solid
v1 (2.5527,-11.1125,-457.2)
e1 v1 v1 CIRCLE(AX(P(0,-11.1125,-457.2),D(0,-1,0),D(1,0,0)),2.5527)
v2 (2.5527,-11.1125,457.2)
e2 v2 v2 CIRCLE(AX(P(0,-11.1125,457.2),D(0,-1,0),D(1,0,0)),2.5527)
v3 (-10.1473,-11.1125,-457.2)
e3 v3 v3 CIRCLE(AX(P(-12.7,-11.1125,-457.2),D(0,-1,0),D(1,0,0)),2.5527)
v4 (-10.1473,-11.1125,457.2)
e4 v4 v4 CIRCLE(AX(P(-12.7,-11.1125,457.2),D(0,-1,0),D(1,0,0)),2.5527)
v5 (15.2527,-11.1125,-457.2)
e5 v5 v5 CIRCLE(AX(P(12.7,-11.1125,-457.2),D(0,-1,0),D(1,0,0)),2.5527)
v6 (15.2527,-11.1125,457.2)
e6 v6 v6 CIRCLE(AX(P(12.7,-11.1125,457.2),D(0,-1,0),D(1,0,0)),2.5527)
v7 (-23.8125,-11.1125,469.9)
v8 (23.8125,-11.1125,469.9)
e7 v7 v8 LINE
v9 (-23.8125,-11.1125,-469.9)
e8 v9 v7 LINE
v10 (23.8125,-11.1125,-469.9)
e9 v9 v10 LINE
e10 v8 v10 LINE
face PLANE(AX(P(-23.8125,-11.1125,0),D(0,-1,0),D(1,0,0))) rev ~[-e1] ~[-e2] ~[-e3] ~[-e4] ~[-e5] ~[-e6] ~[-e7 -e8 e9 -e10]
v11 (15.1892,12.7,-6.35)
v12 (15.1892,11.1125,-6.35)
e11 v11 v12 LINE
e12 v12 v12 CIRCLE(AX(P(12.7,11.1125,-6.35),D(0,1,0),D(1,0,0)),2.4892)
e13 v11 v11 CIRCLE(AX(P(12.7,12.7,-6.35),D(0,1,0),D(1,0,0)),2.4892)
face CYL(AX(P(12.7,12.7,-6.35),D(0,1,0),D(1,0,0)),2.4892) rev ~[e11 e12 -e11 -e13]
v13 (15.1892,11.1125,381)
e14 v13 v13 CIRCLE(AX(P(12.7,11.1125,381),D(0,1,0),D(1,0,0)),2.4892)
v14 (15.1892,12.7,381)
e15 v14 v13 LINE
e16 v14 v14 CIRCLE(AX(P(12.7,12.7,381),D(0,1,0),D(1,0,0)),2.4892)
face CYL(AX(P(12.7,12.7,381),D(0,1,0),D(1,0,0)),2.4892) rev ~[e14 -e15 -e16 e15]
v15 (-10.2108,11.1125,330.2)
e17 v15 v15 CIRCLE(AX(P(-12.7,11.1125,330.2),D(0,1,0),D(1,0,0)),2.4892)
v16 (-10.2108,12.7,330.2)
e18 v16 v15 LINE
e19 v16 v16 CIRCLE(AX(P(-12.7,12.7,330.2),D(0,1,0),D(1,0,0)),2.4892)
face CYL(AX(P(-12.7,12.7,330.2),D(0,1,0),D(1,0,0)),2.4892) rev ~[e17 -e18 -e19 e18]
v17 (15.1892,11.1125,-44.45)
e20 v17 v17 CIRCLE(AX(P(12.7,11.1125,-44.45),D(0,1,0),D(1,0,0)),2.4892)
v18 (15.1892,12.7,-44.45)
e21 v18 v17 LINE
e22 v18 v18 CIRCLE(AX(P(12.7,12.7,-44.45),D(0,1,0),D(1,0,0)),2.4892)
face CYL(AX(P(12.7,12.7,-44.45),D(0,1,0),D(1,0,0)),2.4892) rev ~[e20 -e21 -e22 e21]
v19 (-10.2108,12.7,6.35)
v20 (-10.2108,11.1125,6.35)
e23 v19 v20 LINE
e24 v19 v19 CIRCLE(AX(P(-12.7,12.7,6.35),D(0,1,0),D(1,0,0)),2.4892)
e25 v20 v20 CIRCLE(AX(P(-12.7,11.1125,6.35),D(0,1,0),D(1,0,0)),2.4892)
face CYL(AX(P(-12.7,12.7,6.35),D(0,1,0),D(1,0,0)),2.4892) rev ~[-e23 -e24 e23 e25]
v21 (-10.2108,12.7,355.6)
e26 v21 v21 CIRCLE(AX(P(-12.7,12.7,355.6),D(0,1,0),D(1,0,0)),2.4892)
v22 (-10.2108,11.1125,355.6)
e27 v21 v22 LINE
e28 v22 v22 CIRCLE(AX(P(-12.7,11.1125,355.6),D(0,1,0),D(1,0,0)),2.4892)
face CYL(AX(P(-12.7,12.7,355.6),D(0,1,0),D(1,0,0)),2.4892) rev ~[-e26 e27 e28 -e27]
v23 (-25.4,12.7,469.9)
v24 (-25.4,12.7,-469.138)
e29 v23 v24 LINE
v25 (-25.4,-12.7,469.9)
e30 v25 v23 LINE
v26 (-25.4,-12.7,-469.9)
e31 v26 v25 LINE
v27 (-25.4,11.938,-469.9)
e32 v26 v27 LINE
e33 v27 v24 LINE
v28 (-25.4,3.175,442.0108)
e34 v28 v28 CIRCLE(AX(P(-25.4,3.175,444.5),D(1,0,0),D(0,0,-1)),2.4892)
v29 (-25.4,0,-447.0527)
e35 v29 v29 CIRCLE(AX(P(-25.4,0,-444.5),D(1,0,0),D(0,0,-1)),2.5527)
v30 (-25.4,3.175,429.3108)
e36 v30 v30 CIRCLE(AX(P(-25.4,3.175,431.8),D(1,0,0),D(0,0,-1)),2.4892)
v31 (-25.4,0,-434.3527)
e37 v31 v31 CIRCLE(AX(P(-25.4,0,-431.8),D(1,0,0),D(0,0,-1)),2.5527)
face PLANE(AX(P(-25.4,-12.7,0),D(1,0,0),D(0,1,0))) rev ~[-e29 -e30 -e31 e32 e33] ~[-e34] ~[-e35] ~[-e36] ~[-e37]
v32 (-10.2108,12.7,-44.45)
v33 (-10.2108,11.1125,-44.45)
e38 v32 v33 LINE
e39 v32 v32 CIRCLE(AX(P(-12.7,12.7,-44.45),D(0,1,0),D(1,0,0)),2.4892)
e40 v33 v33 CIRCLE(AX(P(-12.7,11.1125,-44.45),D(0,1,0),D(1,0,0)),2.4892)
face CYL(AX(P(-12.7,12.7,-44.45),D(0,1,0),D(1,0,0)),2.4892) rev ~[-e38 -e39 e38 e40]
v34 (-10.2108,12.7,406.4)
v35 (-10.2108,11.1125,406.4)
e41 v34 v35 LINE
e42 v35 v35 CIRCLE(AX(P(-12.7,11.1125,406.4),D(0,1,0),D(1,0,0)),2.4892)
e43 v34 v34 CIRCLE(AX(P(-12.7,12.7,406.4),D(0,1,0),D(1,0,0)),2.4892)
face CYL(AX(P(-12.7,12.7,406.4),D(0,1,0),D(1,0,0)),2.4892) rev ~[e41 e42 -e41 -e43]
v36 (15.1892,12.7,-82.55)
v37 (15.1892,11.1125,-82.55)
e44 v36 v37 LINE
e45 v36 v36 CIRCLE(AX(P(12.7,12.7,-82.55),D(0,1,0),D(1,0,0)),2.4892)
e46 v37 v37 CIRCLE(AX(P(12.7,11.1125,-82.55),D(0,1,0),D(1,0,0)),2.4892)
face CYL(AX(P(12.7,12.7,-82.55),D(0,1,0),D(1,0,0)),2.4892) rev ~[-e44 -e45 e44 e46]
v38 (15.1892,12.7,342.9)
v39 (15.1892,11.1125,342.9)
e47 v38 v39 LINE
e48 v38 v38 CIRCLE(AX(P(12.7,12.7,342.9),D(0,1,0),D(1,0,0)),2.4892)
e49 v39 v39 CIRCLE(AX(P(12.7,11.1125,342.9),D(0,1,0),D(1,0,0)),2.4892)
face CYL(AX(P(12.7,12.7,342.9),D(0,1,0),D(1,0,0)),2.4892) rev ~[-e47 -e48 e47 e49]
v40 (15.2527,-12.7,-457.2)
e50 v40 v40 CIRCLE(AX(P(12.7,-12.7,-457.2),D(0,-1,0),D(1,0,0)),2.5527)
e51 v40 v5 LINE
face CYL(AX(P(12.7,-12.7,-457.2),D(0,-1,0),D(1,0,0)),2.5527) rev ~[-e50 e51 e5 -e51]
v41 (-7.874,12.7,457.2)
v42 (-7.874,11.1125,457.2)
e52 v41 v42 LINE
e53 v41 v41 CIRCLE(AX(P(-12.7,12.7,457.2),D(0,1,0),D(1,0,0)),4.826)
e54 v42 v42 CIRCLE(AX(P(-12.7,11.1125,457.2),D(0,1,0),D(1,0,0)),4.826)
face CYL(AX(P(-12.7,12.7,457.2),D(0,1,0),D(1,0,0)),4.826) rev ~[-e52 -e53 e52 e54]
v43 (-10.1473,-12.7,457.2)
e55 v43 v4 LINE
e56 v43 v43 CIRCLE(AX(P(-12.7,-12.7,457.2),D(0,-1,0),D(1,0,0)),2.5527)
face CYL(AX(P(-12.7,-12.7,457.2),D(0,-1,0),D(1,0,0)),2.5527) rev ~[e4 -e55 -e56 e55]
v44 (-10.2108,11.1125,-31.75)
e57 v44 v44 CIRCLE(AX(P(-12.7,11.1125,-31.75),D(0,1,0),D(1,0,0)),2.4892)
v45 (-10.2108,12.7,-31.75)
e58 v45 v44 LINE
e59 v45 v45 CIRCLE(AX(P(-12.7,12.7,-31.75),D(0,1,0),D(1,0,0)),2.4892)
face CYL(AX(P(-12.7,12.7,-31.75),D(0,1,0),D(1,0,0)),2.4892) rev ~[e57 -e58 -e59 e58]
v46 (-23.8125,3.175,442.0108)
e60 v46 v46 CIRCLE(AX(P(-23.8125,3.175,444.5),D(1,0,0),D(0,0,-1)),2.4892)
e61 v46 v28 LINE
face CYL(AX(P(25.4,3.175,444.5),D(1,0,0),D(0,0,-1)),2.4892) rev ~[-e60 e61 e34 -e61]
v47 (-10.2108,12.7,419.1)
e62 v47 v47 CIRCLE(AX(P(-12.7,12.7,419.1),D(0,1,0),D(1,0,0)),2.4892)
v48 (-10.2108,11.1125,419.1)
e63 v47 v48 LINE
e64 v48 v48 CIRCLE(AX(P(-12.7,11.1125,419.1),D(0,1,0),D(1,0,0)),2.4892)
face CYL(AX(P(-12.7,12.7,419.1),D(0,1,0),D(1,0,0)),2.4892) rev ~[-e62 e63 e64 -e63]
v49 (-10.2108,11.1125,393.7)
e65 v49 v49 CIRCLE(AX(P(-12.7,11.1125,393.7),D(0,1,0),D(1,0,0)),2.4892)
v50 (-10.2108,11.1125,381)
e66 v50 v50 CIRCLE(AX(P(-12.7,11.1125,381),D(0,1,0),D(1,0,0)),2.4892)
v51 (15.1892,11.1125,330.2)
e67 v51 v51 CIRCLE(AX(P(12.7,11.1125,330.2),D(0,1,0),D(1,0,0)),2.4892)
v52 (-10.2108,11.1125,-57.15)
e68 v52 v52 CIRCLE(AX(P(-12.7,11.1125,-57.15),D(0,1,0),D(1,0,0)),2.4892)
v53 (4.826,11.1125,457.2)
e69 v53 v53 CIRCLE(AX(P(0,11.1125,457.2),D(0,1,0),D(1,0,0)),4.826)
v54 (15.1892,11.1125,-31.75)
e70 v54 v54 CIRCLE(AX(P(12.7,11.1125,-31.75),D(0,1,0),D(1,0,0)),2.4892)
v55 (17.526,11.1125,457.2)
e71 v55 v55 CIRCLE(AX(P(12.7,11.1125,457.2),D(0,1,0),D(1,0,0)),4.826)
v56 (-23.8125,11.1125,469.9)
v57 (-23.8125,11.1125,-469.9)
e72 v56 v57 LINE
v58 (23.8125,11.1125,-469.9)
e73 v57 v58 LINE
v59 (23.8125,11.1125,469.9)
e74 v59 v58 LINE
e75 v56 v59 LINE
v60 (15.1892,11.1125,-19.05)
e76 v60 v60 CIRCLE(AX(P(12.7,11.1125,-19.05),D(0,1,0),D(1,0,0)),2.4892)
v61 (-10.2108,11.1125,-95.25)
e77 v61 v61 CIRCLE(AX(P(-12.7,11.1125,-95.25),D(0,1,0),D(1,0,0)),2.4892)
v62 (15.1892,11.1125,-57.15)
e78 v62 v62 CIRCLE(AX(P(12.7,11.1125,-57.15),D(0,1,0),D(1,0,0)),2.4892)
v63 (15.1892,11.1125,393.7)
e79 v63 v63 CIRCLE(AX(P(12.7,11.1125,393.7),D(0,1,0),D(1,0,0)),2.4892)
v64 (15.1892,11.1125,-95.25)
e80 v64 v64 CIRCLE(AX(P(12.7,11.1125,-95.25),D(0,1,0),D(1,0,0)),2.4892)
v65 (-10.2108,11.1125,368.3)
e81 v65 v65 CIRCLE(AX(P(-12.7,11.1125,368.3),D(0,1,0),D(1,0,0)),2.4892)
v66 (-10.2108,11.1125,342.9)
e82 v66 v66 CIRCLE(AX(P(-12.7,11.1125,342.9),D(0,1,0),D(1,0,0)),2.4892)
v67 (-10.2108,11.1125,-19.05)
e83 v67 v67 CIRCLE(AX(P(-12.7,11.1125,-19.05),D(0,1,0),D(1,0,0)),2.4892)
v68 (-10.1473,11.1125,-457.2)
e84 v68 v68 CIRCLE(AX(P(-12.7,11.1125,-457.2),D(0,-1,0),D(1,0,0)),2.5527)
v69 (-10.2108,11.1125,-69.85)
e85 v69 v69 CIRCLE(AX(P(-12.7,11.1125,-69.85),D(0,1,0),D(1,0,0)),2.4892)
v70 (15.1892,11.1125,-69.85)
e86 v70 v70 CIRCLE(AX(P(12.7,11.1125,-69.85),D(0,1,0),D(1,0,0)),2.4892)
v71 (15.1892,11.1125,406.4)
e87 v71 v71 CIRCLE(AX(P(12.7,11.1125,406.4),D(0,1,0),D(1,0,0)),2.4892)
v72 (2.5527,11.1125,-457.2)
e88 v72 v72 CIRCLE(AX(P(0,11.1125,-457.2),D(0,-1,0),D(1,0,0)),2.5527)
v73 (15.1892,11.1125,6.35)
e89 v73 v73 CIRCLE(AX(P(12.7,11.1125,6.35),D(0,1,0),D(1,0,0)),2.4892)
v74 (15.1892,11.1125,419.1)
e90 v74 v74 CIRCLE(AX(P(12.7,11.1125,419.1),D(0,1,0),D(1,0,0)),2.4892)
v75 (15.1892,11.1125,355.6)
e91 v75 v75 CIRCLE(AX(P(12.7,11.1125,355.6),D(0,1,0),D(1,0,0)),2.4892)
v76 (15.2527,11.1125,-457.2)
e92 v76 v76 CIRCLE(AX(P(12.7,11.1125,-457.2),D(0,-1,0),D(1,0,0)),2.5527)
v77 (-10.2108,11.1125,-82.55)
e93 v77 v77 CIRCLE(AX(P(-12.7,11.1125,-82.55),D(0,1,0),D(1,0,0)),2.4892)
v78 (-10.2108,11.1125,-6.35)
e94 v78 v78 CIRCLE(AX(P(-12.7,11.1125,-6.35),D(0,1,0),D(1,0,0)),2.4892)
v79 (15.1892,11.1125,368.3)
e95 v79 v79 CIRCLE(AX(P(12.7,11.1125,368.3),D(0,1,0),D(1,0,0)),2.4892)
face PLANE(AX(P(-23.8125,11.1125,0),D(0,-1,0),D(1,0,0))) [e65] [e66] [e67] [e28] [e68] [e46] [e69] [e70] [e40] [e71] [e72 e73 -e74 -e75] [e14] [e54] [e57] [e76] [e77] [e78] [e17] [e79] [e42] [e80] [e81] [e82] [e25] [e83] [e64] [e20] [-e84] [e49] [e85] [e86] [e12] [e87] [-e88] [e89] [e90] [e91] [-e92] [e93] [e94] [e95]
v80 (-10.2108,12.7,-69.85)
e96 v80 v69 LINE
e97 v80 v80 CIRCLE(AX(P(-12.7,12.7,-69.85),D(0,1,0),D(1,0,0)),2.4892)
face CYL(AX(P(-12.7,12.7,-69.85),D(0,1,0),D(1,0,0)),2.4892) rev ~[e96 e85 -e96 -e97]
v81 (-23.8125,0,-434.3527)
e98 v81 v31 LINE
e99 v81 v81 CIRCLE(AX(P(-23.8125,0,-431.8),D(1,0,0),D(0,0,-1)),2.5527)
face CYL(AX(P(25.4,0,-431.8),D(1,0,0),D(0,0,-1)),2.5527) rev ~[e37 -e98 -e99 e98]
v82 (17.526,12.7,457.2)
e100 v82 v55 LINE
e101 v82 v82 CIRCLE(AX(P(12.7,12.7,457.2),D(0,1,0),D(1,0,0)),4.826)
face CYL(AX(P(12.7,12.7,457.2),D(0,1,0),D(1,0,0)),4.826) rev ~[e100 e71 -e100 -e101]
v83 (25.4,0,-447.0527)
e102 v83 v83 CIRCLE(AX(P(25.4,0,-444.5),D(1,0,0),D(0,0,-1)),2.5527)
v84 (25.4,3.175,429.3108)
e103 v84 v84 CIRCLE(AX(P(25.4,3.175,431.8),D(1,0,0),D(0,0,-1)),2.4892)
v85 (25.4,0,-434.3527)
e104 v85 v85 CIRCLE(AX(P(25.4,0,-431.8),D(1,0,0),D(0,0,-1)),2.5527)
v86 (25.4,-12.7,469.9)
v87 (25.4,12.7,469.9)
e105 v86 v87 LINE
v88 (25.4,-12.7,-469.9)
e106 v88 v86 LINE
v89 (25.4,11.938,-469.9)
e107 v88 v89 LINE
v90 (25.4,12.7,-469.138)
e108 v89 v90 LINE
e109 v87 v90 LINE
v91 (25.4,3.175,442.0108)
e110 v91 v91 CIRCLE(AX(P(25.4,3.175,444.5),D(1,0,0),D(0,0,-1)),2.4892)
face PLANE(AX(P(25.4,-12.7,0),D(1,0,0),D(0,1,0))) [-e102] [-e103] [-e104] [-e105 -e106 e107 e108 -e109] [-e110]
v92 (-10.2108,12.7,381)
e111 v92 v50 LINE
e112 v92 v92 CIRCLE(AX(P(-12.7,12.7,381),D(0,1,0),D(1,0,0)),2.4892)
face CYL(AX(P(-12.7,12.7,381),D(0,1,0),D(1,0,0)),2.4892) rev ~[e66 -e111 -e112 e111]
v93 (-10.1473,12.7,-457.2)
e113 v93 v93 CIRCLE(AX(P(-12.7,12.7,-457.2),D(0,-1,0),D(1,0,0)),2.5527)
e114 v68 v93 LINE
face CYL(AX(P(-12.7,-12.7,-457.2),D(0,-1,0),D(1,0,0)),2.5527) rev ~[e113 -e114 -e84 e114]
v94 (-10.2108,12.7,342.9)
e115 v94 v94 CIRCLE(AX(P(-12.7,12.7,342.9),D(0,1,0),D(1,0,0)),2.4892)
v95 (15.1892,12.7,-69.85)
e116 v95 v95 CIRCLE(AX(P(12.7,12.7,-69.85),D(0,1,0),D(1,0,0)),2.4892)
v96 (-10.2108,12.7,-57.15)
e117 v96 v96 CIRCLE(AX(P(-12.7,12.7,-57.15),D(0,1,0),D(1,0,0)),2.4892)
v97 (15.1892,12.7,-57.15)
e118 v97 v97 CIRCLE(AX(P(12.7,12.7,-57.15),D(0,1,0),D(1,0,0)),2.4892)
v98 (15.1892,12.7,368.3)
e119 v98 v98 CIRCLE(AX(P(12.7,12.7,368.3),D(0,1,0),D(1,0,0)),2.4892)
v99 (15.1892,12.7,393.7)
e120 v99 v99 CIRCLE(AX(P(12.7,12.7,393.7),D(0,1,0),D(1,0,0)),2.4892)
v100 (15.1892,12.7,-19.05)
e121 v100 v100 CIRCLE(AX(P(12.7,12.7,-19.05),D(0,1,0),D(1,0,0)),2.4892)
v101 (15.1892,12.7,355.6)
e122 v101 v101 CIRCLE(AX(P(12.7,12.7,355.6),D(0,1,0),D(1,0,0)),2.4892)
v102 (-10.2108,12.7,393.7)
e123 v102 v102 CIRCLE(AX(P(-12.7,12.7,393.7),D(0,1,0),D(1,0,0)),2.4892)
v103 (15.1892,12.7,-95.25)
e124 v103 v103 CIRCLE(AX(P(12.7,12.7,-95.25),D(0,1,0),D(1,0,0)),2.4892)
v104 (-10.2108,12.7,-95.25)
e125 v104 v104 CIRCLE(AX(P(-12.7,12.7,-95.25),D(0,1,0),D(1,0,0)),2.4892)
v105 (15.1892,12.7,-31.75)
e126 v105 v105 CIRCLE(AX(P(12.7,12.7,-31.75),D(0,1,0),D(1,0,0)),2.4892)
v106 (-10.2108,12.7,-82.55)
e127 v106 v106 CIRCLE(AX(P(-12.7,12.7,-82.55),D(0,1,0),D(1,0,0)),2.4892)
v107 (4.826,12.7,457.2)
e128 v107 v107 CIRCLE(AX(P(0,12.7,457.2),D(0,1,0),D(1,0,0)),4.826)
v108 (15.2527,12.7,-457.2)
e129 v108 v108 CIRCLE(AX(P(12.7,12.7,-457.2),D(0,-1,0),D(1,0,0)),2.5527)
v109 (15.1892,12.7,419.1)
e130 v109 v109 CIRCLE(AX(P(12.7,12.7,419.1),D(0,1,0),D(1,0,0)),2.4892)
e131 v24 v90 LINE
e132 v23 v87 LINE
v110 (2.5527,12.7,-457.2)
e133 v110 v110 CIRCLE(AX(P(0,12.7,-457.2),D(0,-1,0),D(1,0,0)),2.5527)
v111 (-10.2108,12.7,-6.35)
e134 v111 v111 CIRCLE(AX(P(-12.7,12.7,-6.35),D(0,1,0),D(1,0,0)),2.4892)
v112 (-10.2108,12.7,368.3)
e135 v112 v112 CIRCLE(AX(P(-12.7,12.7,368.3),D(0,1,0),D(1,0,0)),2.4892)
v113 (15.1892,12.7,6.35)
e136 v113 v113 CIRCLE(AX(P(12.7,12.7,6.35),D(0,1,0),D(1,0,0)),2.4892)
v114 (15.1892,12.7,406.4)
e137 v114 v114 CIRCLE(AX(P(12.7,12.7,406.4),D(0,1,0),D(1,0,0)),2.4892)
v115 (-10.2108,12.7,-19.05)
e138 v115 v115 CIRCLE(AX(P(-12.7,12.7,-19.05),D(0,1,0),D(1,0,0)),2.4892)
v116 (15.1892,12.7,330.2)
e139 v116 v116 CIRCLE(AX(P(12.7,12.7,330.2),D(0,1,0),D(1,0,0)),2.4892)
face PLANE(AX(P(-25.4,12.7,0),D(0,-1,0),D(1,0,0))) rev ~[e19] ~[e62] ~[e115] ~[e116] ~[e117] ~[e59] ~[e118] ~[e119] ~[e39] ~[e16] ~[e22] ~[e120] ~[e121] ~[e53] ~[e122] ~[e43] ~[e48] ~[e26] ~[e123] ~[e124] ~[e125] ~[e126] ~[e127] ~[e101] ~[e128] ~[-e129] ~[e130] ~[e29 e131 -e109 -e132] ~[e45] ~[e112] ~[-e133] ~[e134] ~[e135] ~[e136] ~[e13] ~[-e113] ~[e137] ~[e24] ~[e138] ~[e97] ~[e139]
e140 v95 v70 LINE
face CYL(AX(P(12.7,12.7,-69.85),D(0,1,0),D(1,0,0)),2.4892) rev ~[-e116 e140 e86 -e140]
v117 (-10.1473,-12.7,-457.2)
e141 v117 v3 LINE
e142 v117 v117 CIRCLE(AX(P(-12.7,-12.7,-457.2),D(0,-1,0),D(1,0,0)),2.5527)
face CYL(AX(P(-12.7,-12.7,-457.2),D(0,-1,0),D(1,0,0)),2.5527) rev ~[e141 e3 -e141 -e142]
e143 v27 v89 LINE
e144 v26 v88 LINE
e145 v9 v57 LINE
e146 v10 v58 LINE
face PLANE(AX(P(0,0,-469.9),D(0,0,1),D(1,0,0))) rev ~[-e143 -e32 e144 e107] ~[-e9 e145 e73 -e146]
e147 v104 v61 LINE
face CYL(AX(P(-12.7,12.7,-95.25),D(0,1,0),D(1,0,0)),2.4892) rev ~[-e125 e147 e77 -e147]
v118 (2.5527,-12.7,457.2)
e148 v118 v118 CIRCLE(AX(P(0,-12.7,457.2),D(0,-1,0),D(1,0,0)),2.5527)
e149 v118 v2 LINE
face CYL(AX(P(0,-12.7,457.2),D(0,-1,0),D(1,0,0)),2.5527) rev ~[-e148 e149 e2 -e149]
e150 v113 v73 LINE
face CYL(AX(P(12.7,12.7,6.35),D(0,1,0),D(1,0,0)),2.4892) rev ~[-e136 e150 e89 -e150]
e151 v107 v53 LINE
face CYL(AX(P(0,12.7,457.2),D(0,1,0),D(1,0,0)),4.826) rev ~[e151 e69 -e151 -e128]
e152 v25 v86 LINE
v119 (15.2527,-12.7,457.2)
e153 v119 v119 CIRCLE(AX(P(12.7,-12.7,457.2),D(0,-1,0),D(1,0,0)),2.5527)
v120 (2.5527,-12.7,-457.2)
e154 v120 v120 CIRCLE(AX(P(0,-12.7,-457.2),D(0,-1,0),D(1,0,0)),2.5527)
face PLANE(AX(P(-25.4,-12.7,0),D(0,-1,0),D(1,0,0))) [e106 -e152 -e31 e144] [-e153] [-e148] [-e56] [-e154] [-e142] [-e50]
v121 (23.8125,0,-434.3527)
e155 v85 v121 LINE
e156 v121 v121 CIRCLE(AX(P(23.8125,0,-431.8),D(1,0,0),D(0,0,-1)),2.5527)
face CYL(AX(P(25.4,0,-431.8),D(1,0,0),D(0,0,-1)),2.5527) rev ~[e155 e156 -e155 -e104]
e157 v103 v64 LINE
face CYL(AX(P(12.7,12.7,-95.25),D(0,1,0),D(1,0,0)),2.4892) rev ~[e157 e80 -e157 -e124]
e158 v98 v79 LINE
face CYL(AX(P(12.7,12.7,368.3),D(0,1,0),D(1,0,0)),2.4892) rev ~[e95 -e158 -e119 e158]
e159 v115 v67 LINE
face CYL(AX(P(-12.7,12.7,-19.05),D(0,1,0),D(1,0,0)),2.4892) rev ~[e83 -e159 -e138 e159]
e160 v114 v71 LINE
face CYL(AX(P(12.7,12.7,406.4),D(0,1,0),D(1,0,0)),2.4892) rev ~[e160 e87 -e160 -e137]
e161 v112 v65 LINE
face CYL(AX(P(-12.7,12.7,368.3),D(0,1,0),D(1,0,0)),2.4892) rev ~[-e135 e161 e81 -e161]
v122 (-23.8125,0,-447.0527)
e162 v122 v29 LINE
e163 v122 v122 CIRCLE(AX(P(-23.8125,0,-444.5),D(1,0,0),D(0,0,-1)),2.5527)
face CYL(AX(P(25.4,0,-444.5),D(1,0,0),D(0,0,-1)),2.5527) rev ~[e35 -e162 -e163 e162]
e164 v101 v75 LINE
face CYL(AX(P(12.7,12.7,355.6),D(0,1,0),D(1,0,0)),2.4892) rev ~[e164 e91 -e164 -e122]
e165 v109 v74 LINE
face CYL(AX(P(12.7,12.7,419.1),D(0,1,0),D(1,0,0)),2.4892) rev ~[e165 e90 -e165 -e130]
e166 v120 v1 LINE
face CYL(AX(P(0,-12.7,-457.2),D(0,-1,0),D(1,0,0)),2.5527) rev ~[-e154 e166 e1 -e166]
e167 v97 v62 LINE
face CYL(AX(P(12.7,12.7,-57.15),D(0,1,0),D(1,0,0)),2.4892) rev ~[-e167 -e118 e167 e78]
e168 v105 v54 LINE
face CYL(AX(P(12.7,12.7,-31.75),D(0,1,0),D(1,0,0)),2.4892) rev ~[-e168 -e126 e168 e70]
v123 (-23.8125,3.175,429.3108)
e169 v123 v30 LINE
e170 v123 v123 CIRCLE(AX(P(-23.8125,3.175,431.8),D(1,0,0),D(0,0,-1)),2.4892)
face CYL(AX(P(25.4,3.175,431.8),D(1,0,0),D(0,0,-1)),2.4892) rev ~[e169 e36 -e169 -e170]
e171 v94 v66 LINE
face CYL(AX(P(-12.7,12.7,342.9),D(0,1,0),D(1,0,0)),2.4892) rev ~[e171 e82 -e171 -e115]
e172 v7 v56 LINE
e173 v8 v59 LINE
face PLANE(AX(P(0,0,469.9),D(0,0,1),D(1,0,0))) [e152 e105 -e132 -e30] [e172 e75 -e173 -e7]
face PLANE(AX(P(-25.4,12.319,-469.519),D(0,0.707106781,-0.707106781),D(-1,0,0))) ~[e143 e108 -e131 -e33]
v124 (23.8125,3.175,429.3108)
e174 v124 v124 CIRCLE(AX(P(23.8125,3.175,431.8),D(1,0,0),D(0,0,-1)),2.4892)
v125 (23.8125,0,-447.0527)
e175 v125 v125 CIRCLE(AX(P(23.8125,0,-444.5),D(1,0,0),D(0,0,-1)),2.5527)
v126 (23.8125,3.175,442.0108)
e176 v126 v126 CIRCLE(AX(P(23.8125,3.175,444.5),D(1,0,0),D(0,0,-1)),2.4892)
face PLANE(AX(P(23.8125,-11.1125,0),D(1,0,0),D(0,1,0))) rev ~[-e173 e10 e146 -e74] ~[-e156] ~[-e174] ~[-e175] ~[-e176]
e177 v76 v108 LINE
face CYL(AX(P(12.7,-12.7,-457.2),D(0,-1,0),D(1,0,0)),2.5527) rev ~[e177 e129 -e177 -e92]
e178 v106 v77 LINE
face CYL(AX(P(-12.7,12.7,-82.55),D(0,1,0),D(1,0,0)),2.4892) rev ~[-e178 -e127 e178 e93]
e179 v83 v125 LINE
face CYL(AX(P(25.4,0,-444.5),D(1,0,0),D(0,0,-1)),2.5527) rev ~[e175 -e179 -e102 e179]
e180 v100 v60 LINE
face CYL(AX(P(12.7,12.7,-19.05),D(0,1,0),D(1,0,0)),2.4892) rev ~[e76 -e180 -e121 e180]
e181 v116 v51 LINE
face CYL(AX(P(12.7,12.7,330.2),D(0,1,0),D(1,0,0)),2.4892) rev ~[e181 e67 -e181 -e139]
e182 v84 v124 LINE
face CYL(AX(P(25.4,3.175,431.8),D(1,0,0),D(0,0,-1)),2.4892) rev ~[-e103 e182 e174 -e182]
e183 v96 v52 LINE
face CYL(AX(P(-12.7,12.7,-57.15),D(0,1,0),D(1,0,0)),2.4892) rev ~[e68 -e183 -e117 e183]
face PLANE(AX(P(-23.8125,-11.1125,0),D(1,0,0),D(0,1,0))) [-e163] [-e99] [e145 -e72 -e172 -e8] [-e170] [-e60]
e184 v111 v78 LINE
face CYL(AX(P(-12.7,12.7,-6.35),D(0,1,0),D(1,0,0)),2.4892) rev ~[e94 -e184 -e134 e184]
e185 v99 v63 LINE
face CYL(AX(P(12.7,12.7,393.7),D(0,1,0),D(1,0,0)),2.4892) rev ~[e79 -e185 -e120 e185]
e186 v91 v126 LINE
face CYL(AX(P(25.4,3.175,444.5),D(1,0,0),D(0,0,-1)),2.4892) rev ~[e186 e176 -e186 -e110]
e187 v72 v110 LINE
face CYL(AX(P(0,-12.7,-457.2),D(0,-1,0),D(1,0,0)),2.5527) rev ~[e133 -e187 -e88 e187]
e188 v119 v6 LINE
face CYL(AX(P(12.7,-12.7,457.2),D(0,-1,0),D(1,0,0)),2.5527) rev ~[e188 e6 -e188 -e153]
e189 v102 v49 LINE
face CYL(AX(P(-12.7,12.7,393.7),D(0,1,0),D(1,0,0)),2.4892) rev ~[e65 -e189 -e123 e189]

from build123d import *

# Parameters (mm, degrees)
SKETCH1_W           = 50.8
SKETCH1_H           = 25.4
SKETCH1_W_2         = 47.625
SKETCH1_H_2         = 22.225
BOSS_EXTRUDE1_DEPTH = 469.9
SKETCH4_R           = 4.826
CUT_EXTRUDE3_DEPTH  = 1.5875
SKETCH5_R           = 2.5527
CUT_EXTRUDE4_DEPTH  = 1.5875
SKETCH6_R           = 2.5527
CUT_EXTRUDE5_DEPTH  = 26.4
SKETCH7_R           = 2.5527
SKETCH7_R_2         = 2.4892
CUT_EXTRUDE6_DEPTH  = 51.8
SKETCH10_R          = 2.4892
CUT_EXTRUDE8_DEPTH  = 1.5875
CHAMFER1_SIZE       = 0.762


with BuildPart() as part:
    # Sketch1 → Boss-Extrude1 (new body, symmetric)
    with BuildSketch(Plane.XY):
        Rectangle(SKETCH1_W, SKETCH1_H)
        Rectangle(SKETCH1_W_2, SKETCH1_H_2, mode=Mode.SUBTRACT)
    extrude(amount=BOSS_EXTRUDE1_DEPTH, both=True)

    # Sketch4 → Cut-Extrude3 (cut)
    with BuildSketch(Plane(origin=(0, 12.7, 0), x_dir=(1, 0, 0), z_dir=(0, 1, 0))):
        with Locations((-12.7, -457.2)):
            Circle(SKETCH4_R)
        with Locations((0, -457.2)):
            Circle(SKETCH4_R)
        with Locations((12.7, -457.2)):
            Circle(SKETCH4_R)
    extrude(amount=-CUT_EXTRUDE3_DEPTH, mode=Mode.SUBTRACT)

    # Sketch5 → Cut-Extrude4 (cut)
    with BuildSketch(Plane.XZ.offset(12.7)):
        with Locations((12.7, 457.2)):
            Circle(SKETCH5_R)
        with Locations((0, 457.2)):
            Circle(SKETCH5_R)
        with Locations((-12.7, 457.2)):
            Circle(SKETCH5_R)
    extrude(amount=-CUT_EXTRUDE4_DEPTH, mode=Mode.SUBTRACT)

    # Sketch6 → Cut-Extrude5 (cut, through all)
    with BuildSketch(Plane.XZ.offset(12.7)):
        with Locations((12.7, -457.2)):
            Circle(SKETCH6_R)
        with Locations((0, -457.2)):
            Circle(SKETCH6_R)
        with Locations((-12.7, -457.2)):
            Circle(SKETCH6_R)
    extrude(amount=-CUT_EXTRUDE5_DEPTH, mode=Mode.SUBTRACT)

    # Sketch7 → Cut-Extrude6 (cut, through all)
    with BuildSketch(Plane(origin=(25.4, 0, 0), x_dir=(0, 0, -1), z_dir=(1, 0, 0))):
        with Locations((431.8, 0)):
            Circle(SKETCH7_R)
        with Locations((444.5, 0)):
            Circle(SKETCH7_R)
        with Locations((-444.5, 3.175)):
            Circle(SKETCH7_R_2)
        with Locations((-431.8, 3.175)):
            Circle(SKETCH7_R_2)
    extrude(amount=-CUT_EXTRUDE6_DEPTH, mode=Mode.SUBTRACT)

    # Sketch10 → Cut-Extrude8 (cut)
    with BuildSketch(Plane(origin=(0, 12.7, 0), x_dir=(1, 0, 0), z_dir=(0, 1, 0))):
        with Locations((-12.7, -419.1)):
            Circle(SKETCH10_R)
        with Locations((12.7, -419.1)):
            Circle(SKETCH10_R)
        with Locations((-12.7, -406.4)):
            Circle(SKETCH10_R)
        with Locations((12.7, -406.4)):
            Circle(SKETCH10_R)
        with Locations((-12.7, -393.7)):
            Circle(SKETCH10_R)
        with Locations((12.7, -393.7)):
            Circle(SKETCH10_R)
        with Locations((-12.7, -381)):
            Circle(SKETCH10_R)
        with Locations((12.7, -381)):
            Circle(SKETCH10_R)
        with Locations((-12.7, -368.3)):
            Circle(SKETCH10_R)
        with Locations((12.7, -368.3)):
            Circle(SKETCH10_R)
        with Locations((-12.7, -355.6)):
            Circle(SKETCH10_R)
        with Locations((12.7, -355.6)):
            Circle(SKETCH10_R)
        with Locations((-12.7, -342.9)):
            Circle(SKETCH10_R)
        with Locations((12.7, -342.9)):
            Circle(SKETCH10_R)
        with Locations((-12.7, -330.2)):
            Circle(SKETCH10_R)
        with Locations((12.7, -330.2)):
            Circle(SKETCH10_R)
        with Locations((-12.7, -6.35)):
            Circle(SKETCH10_R)
        with Locations((12.7, -6.35)):
            Circle(SKETCH10_R)
        with Locations((-12.7, 6.35)):
            Circle(SKETCH10_R)
        with Locations((12.7, 6.35)):
            Circle(SKETCH10_R)
        with Locations((-12.7, 19.05)):
            Circle(SKETCH10_R)
        with Locations((12.7, 19.05)):
            Circle(SKETCH10_R)
        with Locations((-12.7, 31.75)):
            Circle(SKETCH10_R)
        with Locations((12.7, 31.75)):
            Circle(SKETCH10_R)
        with Locations((-12.7, 44.45)):
            Circle(SKETCH10_R)
        with Locations((12.7, 44.45)):
            Circle(SKETCH10_R)
        with Locations((-12.7, 57.15)):
            Circle(SKETCH10_R)
        with Locations((12.7, 57.15)):
            Circle(SKETCH10_R)
        with Locations((-12.7, 69.85)):
            Circle(SKETCH10_R)
        with Locations((12.7, 69.85)):
            Circle(SKETCH10_R)
        with Locations((-12.7, 82.55)):
            Circle(SKETCH10_R)
        with Locations((12.7, 82.55)):
            Circle(SKETCH10_R)
        with Locations((-12.7, 95.25)):
            Circle(SKETCH10_R)
        with Locations((12.7, 95.25)):
            Circle(SKETCH10_R)
    extrude(amount=-CUT_EXTRUDE8_DEPTH, mode=Mode.SUBTRACT)

    # Chamfer1
    chamfer1_edges = [part.edges().sort_by_distance(p)[0] for p in [
        (0, 12.7, -469.9),
    ]]
    chamfer(chamfer1_edges, length=CHAMFER1_SIZE)


solid = part.part
